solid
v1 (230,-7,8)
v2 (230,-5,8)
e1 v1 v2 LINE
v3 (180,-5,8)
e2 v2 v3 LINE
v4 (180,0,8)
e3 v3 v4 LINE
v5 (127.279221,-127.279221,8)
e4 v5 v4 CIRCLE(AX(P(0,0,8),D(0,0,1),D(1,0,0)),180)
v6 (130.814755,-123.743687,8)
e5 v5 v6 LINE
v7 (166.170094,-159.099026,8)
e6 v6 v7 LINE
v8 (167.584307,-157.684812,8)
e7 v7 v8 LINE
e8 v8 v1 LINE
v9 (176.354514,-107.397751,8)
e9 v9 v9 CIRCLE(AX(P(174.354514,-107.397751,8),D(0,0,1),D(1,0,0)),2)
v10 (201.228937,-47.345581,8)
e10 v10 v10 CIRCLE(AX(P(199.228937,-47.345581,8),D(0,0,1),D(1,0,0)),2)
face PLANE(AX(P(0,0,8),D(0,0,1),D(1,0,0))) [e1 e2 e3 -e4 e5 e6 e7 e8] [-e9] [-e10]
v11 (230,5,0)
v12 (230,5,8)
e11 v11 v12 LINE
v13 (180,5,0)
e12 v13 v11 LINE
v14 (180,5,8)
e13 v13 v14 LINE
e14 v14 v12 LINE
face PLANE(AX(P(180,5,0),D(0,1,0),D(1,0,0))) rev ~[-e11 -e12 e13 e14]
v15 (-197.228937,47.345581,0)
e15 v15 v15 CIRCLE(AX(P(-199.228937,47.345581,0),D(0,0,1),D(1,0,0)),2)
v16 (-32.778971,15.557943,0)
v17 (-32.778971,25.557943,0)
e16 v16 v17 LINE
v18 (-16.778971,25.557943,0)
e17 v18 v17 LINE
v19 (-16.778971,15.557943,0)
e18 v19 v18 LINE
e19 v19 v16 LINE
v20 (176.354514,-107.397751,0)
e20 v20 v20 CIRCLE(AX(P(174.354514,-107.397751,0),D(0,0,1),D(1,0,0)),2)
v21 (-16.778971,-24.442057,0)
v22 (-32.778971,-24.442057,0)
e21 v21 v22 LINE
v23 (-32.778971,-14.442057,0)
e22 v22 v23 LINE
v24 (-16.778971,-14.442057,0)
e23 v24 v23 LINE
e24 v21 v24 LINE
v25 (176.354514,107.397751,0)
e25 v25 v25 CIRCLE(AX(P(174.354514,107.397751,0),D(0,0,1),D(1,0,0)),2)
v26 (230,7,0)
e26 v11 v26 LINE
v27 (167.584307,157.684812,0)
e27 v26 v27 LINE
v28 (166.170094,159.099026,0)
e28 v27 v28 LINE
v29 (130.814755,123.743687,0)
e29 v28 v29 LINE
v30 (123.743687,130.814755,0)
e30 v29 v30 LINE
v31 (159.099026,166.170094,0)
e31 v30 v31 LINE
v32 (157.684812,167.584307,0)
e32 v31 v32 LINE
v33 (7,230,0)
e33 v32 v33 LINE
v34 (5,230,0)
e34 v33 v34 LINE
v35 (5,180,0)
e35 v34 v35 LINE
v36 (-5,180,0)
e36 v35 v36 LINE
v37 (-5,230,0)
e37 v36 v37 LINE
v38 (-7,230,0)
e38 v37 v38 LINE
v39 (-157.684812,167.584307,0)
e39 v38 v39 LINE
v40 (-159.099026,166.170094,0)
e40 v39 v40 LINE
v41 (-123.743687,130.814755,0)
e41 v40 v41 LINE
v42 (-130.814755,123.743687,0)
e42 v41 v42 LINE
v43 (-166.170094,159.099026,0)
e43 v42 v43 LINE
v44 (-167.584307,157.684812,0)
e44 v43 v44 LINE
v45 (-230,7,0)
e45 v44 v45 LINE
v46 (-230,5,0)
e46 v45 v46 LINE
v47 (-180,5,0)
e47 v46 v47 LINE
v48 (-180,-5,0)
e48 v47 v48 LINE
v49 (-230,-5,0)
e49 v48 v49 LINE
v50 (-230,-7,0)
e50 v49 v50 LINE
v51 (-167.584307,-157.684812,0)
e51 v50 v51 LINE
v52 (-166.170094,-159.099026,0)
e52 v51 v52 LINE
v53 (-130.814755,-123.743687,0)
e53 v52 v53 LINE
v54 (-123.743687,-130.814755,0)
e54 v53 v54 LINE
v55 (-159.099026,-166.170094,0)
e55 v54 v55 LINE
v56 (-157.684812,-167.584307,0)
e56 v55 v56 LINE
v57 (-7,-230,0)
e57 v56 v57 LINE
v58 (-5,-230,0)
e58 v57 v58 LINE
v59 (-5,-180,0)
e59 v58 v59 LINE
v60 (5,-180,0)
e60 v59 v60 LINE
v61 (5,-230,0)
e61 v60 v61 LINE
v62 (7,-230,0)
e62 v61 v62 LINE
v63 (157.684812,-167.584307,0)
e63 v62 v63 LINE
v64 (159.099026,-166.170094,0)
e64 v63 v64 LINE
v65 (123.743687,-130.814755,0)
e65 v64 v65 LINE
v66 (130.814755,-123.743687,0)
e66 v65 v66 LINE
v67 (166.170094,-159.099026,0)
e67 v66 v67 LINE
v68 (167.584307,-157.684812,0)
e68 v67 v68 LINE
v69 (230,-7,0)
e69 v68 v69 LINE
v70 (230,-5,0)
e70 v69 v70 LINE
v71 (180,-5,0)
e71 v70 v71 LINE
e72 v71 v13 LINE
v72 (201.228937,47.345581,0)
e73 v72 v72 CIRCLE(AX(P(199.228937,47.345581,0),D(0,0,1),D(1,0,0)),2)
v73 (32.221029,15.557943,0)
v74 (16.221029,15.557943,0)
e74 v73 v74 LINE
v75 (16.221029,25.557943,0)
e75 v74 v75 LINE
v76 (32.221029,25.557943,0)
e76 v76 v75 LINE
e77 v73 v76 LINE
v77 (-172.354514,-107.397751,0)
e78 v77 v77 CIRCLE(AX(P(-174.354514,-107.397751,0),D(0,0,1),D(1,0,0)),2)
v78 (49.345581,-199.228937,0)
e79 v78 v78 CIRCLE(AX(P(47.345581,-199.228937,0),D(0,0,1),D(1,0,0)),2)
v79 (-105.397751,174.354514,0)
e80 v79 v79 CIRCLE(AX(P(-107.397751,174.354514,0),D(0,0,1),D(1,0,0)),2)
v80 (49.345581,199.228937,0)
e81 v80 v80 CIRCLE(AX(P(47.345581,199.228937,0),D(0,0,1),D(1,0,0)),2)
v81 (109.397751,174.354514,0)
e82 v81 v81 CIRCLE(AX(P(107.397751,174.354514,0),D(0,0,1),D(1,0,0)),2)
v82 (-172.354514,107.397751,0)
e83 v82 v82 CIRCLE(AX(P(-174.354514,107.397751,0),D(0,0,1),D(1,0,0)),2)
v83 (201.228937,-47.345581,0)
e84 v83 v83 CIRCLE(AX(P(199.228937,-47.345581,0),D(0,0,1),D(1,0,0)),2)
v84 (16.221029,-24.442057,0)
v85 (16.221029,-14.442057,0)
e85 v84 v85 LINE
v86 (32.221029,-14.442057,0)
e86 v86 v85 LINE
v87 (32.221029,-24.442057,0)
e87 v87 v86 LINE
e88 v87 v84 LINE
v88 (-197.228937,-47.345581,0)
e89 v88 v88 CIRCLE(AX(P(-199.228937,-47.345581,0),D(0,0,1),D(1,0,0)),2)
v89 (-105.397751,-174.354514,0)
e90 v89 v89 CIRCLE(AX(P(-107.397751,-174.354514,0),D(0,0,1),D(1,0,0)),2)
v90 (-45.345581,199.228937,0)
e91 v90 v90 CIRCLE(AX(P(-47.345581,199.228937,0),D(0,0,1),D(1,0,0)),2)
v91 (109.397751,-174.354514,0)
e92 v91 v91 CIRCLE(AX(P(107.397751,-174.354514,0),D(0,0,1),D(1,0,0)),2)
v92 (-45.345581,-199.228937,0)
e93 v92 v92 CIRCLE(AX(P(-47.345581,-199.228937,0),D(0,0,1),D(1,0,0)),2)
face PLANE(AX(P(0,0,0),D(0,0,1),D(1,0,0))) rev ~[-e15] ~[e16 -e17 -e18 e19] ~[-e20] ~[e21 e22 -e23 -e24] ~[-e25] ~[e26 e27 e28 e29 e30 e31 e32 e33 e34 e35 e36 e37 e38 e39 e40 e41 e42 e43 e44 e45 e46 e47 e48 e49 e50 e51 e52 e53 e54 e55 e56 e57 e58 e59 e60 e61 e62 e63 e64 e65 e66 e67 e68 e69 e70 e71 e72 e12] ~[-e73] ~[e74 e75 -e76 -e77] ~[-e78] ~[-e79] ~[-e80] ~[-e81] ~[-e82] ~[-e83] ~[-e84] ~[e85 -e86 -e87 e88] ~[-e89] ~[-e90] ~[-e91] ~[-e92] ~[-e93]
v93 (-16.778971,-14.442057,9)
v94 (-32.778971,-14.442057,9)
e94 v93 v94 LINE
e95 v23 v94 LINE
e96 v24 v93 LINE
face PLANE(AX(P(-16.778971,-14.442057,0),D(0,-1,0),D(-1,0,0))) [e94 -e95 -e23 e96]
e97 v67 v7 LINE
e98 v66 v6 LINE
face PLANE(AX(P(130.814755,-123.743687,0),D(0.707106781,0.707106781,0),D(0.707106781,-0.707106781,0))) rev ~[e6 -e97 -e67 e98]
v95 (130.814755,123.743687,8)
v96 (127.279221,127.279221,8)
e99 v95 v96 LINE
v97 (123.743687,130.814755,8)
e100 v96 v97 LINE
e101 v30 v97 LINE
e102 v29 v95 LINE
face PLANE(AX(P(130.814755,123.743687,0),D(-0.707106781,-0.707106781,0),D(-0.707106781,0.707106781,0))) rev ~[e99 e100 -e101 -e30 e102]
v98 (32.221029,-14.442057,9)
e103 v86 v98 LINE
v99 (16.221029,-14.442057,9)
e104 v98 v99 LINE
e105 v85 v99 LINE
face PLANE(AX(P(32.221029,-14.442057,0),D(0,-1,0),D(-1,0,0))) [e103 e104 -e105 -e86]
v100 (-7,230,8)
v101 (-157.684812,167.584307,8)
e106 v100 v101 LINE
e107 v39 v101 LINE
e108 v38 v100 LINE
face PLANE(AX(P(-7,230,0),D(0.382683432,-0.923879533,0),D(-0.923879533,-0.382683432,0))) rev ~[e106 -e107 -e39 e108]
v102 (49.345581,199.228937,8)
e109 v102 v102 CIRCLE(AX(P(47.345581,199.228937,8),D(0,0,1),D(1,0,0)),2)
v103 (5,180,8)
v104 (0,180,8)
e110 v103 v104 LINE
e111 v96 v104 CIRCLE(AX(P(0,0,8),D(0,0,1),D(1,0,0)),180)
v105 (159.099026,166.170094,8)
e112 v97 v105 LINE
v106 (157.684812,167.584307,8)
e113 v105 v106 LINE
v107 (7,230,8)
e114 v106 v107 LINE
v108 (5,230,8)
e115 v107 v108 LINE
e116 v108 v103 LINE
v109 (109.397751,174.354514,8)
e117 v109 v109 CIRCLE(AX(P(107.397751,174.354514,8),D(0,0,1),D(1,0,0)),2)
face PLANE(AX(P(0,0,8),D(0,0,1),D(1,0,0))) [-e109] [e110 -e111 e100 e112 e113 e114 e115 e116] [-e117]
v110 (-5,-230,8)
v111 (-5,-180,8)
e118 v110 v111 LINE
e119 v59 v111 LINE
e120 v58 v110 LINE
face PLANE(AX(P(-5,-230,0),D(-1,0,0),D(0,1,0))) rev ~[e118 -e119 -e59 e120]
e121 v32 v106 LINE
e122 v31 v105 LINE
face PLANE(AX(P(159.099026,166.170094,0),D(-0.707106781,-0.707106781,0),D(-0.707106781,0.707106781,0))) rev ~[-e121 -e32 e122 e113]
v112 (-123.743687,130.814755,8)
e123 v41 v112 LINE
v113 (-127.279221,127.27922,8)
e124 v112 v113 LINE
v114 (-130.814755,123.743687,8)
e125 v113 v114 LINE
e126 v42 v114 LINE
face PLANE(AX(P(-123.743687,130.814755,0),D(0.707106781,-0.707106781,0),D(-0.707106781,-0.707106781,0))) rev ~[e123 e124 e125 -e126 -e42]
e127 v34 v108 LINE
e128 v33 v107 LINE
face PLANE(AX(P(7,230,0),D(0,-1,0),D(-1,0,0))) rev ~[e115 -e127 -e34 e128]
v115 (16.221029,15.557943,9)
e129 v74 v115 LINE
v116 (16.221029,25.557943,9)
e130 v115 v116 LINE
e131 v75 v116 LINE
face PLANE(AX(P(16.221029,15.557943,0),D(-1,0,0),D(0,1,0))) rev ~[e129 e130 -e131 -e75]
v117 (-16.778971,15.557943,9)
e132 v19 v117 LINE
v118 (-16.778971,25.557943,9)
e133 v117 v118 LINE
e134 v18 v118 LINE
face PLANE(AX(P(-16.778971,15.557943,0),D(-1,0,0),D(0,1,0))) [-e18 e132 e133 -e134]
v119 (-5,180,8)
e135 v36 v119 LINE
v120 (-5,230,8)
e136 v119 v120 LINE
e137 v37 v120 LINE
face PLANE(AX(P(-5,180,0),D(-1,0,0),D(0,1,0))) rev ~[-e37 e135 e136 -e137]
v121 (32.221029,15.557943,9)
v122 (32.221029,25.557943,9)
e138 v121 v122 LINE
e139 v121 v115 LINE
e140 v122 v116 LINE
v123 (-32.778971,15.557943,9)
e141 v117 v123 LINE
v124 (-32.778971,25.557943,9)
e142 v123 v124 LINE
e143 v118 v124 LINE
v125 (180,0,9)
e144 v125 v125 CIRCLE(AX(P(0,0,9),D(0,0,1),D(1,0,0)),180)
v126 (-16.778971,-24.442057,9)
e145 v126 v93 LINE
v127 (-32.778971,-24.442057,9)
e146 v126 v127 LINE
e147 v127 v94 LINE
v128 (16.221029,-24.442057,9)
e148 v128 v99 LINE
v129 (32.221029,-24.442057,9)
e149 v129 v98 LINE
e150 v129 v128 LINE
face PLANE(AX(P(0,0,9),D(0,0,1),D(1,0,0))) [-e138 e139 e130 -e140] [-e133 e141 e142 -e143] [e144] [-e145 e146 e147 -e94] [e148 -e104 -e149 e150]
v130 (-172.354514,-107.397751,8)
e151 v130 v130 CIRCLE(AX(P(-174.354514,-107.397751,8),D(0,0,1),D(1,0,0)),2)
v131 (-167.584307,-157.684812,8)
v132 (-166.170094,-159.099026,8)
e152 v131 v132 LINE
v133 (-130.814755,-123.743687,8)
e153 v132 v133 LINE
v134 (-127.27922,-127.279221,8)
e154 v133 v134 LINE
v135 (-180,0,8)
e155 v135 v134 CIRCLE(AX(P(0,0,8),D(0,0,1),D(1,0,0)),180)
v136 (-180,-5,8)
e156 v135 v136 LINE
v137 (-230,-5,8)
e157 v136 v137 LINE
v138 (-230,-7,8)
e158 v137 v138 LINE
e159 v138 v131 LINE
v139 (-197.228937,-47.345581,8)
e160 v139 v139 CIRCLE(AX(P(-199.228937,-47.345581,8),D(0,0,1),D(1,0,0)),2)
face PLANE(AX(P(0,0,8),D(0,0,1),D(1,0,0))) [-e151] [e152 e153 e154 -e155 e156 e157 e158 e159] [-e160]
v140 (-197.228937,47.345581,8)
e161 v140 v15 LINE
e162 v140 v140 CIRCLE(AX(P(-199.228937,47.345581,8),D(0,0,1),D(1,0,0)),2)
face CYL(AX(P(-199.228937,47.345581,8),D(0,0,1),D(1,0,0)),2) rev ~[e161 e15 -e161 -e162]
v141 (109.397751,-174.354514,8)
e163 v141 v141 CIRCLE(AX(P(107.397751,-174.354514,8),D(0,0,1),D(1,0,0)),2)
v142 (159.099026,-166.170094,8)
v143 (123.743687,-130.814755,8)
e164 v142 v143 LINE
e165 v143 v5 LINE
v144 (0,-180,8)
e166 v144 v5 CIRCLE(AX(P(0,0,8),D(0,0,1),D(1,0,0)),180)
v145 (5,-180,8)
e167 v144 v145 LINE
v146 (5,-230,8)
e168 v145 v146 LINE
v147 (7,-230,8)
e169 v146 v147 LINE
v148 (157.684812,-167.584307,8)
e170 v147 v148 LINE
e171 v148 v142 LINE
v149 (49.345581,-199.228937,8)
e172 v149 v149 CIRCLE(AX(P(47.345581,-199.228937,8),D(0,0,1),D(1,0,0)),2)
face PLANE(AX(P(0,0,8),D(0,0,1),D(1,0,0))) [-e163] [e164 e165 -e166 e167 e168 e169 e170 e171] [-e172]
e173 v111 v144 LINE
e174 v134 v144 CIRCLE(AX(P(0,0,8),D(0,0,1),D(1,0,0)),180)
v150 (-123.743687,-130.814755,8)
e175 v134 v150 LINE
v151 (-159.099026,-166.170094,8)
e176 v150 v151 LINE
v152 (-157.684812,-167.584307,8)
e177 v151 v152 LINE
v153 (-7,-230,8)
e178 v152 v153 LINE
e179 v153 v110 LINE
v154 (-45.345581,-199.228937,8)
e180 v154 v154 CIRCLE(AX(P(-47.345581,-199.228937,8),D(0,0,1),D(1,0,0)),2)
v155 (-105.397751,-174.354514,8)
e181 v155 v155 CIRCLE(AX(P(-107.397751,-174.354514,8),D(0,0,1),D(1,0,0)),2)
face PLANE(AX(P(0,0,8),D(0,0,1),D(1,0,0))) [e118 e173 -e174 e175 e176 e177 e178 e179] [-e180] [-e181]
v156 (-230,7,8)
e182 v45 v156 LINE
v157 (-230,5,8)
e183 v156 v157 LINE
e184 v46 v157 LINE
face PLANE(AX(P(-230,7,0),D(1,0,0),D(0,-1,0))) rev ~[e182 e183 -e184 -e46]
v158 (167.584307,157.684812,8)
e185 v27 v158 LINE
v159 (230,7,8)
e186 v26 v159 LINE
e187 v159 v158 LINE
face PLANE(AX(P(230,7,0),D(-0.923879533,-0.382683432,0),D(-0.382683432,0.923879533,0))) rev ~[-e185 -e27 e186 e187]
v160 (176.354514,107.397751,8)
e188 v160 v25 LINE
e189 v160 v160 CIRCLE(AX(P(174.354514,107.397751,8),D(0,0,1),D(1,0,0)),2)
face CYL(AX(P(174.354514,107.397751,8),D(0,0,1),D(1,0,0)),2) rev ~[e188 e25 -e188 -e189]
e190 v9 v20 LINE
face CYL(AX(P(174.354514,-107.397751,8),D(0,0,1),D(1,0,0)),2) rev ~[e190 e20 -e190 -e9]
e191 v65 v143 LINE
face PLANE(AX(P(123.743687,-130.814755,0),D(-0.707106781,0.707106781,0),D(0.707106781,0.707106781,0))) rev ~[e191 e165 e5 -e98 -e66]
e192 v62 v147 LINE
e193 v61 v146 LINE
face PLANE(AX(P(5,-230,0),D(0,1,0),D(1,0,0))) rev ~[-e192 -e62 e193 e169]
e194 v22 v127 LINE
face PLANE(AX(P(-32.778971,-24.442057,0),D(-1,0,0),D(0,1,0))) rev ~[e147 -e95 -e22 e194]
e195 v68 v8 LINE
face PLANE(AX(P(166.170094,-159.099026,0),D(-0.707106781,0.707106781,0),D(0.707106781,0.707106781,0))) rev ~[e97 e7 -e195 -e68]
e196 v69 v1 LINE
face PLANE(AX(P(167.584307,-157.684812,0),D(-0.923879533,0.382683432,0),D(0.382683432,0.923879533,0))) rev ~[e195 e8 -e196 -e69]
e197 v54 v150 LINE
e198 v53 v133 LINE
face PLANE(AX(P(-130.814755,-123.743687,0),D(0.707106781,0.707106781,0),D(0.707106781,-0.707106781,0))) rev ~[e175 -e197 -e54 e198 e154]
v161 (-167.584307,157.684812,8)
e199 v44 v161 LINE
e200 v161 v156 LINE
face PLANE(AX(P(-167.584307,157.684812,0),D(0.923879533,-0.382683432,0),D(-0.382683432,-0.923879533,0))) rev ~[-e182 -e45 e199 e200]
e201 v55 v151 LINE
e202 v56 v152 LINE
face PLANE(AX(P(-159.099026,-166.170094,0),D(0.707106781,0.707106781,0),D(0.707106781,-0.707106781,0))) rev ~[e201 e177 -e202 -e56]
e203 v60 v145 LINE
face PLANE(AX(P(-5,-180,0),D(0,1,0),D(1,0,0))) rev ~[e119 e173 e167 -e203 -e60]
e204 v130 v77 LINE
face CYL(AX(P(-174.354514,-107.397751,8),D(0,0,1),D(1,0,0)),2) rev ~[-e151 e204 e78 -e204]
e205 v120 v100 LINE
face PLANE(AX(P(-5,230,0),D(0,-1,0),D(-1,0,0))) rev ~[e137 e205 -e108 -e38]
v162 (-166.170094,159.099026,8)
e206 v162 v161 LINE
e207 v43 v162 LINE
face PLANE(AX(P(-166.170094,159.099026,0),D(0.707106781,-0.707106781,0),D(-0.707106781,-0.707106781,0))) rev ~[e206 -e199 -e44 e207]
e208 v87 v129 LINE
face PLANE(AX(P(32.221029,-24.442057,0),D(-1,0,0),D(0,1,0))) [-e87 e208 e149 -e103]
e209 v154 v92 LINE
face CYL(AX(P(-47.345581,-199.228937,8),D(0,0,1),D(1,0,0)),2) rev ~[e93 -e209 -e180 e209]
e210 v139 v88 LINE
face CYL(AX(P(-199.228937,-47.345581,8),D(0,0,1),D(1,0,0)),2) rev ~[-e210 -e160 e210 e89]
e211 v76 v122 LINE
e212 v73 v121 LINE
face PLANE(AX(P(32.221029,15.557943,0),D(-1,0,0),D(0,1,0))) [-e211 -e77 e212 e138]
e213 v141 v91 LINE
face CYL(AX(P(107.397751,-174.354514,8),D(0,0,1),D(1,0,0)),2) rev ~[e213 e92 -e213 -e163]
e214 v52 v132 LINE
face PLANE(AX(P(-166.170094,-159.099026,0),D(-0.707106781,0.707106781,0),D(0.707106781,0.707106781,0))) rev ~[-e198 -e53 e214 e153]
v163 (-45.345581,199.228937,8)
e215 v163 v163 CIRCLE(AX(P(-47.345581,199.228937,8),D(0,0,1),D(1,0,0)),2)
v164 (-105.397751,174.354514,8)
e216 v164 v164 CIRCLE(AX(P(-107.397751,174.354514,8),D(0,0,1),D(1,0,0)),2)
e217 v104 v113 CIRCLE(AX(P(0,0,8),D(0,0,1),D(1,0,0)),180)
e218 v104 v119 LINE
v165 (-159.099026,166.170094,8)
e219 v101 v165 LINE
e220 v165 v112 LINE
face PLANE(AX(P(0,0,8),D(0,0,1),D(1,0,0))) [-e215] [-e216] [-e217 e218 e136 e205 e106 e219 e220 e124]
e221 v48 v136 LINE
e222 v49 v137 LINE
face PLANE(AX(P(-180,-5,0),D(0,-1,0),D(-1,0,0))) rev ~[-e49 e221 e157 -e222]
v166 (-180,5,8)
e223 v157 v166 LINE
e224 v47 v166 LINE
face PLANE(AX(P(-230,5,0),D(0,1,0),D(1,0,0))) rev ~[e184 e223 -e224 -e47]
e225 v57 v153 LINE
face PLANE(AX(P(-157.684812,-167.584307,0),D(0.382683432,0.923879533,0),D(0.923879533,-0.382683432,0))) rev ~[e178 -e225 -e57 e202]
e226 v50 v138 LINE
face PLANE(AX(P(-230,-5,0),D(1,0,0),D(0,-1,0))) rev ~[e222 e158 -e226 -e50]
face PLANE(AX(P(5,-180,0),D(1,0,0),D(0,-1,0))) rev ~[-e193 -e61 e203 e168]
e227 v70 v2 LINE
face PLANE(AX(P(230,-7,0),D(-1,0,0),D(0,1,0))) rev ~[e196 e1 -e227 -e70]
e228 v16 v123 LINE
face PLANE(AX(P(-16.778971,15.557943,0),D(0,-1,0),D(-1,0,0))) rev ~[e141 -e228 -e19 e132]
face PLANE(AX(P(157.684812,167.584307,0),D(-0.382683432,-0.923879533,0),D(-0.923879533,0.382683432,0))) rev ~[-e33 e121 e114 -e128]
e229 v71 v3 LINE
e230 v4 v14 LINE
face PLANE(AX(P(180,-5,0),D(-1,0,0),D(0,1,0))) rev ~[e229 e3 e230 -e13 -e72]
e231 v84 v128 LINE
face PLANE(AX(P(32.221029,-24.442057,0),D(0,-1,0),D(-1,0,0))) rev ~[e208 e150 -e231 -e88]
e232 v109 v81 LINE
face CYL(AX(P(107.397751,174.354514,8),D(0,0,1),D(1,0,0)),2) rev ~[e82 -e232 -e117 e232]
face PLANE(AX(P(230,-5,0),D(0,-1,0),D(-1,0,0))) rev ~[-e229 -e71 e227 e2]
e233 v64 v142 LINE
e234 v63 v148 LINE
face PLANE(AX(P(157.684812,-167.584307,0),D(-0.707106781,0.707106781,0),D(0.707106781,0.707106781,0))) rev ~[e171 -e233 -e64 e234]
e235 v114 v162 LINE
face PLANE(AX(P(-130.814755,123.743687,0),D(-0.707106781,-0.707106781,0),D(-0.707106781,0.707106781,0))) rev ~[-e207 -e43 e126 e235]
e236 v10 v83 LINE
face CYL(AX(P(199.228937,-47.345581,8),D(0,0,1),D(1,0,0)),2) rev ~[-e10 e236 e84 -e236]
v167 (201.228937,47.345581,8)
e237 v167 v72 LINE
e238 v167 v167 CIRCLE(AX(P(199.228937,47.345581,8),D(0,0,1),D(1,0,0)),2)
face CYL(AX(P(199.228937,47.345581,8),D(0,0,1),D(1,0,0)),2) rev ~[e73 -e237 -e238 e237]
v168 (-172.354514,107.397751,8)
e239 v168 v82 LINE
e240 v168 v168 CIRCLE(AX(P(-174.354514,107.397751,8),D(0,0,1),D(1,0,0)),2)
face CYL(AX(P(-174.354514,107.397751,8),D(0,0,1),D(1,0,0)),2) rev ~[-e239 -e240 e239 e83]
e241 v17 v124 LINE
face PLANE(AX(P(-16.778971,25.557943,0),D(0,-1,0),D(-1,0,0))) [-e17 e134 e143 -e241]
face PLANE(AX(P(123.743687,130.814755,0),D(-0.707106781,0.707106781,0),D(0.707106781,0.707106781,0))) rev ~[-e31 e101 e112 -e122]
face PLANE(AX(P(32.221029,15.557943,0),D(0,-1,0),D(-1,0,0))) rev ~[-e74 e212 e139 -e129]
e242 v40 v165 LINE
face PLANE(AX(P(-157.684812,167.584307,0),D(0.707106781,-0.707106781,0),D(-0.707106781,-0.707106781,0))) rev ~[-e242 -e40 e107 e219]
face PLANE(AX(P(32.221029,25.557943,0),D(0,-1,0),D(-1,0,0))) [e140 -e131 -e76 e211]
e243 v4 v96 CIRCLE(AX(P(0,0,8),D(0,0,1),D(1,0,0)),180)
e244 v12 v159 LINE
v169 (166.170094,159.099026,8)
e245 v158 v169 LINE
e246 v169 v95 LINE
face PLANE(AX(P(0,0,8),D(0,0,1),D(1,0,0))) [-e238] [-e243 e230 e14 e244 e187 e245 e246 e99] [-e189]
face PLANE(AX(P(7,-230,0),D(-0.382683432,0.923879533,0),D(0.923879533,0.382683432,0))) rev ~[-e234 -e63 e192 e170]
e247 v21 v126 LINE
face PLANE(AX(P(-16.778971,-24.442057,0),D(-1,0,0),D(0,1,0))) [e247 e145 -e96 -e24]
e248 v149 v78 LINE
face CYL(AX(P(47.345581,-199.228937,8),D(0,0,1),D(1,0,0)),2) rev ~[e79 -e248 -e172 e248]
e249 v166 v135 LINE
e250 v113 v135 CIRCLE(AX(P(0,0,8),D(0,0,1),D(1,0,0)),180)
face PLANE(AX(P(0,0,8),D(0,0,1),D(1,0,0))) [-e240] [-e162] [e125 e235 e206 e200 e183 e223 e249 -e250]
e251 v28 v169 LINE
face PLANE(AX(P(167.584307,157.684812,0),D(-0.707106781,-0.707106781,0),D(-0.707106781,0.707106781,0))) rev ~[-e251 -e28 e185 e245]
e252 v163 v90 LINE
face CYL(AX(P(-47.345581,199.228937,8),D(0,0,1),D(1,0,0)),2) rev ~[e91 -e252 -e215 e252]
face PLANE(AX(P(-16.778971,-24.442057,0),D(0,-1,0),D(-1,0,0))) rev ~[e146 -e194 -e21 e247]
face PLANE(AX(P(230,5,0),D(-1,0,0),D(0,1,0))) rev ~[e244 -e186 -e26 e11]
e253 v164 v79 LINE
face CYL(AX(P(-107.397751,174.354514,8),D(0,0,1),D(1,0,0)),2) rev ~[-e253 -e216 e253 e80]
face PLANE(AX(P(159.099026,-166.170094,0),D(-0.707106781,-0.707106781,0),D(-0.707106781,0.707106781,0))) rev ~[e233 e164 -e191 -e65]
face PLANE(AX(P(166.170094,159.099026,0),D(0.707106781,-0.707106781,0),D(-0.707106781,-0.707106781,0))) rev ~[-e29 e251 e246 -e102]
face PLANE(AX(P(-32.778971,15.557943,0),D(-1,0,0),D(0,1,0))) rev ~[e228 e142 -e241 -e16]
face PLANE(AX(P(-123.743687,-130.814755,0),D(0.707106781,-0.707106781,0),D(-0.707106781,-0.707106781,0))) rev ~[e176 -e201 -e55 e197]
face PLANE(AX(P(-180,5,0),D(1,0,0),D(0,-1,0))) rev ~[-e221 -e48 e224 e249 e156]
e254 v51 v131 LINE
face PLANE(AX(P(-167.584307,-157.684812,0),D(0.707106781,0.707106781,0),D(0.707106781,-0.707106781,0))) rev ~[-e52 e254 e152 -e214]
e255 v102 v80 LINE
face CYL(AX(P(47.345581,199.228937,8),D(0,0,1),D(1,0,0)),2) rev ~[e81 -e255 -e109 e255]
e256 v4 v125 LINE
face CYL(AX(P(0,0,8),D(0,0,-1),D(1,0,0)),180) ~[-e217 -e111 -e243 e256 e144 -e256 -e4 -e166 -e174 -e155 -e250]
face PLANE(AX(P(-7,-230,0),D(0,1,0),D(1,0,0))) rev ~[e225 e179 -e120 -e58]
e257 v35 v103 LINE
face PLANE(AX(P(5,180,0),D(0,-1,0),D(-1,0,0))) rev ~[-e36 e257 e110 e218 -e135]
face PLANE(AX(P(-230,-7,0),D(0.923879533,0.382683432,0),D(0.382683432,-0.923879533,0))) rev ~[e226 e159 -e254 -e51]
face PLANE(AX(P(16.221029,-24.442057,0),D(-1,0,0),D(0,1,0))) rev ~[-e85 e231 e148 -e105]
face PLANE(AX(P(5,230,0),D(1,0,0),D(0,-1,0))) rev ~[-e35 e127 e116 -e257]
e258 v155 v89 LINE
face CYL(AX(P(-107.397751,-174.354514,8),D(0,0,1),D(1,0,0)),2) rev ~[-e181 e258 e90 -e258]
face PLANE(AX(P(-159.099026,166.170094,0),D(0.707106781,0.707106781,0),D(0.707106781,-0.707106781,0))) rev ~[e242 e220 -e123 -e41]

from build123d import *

# Parameters (mm, degrees)
BOSS_EXTRUDE1_DEPTH = 8
SKETCH2_R           = 180
BOSS_EXTRUDE2_DEPTH = 1
CUT_EXTRUDE1_REACH  = 10
SKETCH3_R           = 2
CUT_EXTRUDE2_REACH  = 11
SKETCH5_W           = 16
SKETCH5_H           = 10


with BuildPart() as part:
    # Sketch1 → Boss-Extrude1 (new body)
    with BuildSketch(Plane.XY):
        Polygon((5, 230), (5, 180), (-5, 180), (-5, 230), (-7, 230), (-157.684812205, 167.584307141), (-159.099025767, 166.170093579), (-123.743686708, 130.814754519), (-130.81475452, 123.743686708), (-166.170093579, 159.099025767), (-167.584307141, 157.684812205), (-230, 7), (-230, 5), (-180, 5), (-180, -5), (-230, -5), (-230, -7), (-167.584307141, -157.684812205), (-166.170093579, -159.099025767), (-130.81475452, -123.743686708), (-123.743686708, -130.81475452), (-159.099025767, -166.170093579), (-157.684812205, -167.584307141), (-7, -230), (-5, -230), (-5, -180), (5, -180), (5, -230), (7, -230), (157.684812205, -167.584307141), (159.099025767, -166.170093579), (123.743686708, -130.814754519), (130.81475452, -123.743686708), (166.170093579, -159.099025767), (167.584307141, -157.684812205), (230, -7), (230, -5), (180, -5), (180, 5), (230, 5), (230, 7), (167.584307141, 157.684812205), (166.170093579, 159.099025767), (130.81475452, 123.743686708), (123.743686708, 130.81475452), (159.099025767, 166.170093579), (157.684812205, 167.584307141), (7, 230), align=None)
    extrude(amount=BOSS_EXTRUDE1_DEPTH)

    # Sketch2 → Boss-Extrude2 (add)
    with BuildSketch(Plane.XY.offset(8)):
        Circle(SKETCH2_R)
    extrude(amount=BOSS_EXTRUDE2_DEPTH)

    # Sketch3 → Cut-Extrude1 (cut, up to next)
    with BuildSketch(Plane.XY.offset(8), mode=Mode.PRIVATE) as cut_extrude1_sk1:
        with Locations((107.397750993, 174.354514299)):
            Circle(SKETCH3_R)
    cut_extrude1_tool1 = extrude(cut_extrude1_sk1.sketch, amount=-CUT_EXTRUDE1_REACH, mode=Mode.PRIVATE) & part.part
    add(cut_extrude1_tool1.solids().sort_by_distance((107.397751, 174.354514, 8))[0], mode=Mode.SUBTRACT)
    # Sketch3 → Cut-Extrude1 (cut, up to next)
    with BuildSketch(Plane.XY.offset(8), mode=Mode.PRIVATE) as cut_extrude1_sk2:
        with Locations((47.34558138, 199.228937402)):
            Circle(SKETCH3_R)
    cut_extrude1_tool2 = extrude(cut_extrude1_sk2.sketch, amount=-CUT_EXTRUDE1_REACH, mode=Mode.PRIVATE) & part.part
    add(cut_extrude1_tool2.solids().sort_by_distance((47.345581, 199.228937, 8))[0], mode=Mode.SUBTRACT)
    # Sketch3 → Cut-Extrude1 (cut, up to next)
    with BuildSketch(Plane.XY.offset(8), mode=Mode.PRIVATE) as cut_extrude1_sk3:
        with Locations((199.228937402, 47.34558138)):
            Circle(SKETCH3_R)
    cut_extrude1_tool3 = extrude(cut_extrude1_sk3.sketch, amount=-CUT_EXTRUDE1_REACH, mode=Mode.PRIVATE) & part.part
    add(cut_extrude1_tool3.solids().sort_by_distance((199.228937, 47.345581, 8))[0], mode=Mode.SUBTRACT)
    # Sketch3 → Cut-Extrude1 (cut, up to next)
    with BuildSketch(Plane.XY.offset(8), mode=Mode.PRIVATE) as cut_extrude1_sk4:
        with Locations((174.354514299, 107.397750993)):
            Circle(SKETCH3_R)
    cut_extrude1_tool4 = extrude(cut_extrude1_sk4.sketch, amount=-CUT_EXTRUDE1_REACH, mode=Mode.PRIVATE) & part.part
    add(cut_extrude1_tool4.solids().sort_by_distance((174.354514, 107.397751, 8))[0], mode=Mode.SUBTRACT)
    # Sketch3 → Cut-Extrude1 (cut, up to next)
    with BuildSketch(Plane.XY.offset(8), mode=Mode.PRIVATE) as cut_extrude1_sk5:
        with Locations((174.354514299, -107.397750993)):
            Circle(SKETCH3_R)
    cut_extrude1_tool5 = extrude(cut_extrude1_sk5.sketch, amount=-CUT_EXTRUDE1_REACH, mode=Mode.PRIVATE) & part.part
    add(cut_extrude1_tool5.solids().sort_by_distance((174.354514, -107.397751, 8))[0], mode=Mode.SUBTRACT)
    # Sketch3 → Cut-Extrude1 (cut, up to next)
    with BuildSketch(Plane.XY.offset(8), mode=Mode.PRIVATE) as cut_extrude1_sk6:
        with Locations((199.228937402, -47.34558138)):
            Circle(SKETCH3_R)
    cut_extrude1_tool6 = extrude(cut_extrude1_sk6.sketch, amount=-CUT_EXTRUDE1_REACH, mode=Mode.PRIVATE) & part.part
    add(cut_extrude1_tool6.solids().sort_by_distance((199.228937, -47.345581, 8))[0], mode=Mode.SUBTRACT)
    # Sketch3 → Cut-Extrude1 (cut, up to next)
    with BuildSketch(Plane.XY.offset(8), mode=Mode.PRIVATE) as cut_extrude1_sk7:
        with Locations((47.34558138, -199.228937402)):
            Circle(SKETCH3_R)
    cut_extrude1_tool7 = extrude(cut_extrude1_sk7.sketch, amount=-CUT_EXTRUDE1_REACH, mode=Mode.PRIVATE) & part.part
    add(cut_extrude1_tool7.solids().sort_by_distance((47.345581, -199.228937, 8))[0], mode=Mode.SUBTRACT)
    # Sketch3 → Cut-Extrude1 (cut, up to next)
    with BuildSketch(Plane.XY.offset(8), mode=Mode.PRIVATE) as cut_extrude1_sk8:
        with Locations((107.397750993, -174.354514299)):
            Circle(SKETCH3_R)
    cut_extrude1_tool8 = extrude(cut_extrude1_sk8.sketch, amount=-CUT_EXTRUDE1_REACH, mode=Mode.PRIVATE) & part.part
    add(cut_extrude1_tool8.solids().sort_by_distance((107.397751, -174.354514, 8))[0], mode=Mode.SUBTRACT)
    # Sketch3 → Cut-Extrude1 (cut, up to next)
    with BuildSketch(Plane.XY.offset(8), mode=Mode.PRIVATE) as cut_extrude1_sk9:
        with Locations((-107.397750993, -174.354514299)):
            Circle(SKETCH3_R)
    cut_extrude1_tool9 = extrude(cut_extrude1_sk9.sketch, amount=-CUT_EXTRUDE1_REACH, mode=Mode.PRIVATE) & part.part
    add(cut_extrude1_tool9.solids().sort_by_distance((-107.397751, -174.354514, 8))[0], mode=Mode.SUBTRACT)
    # Sketch3 → Cut-Extrude1 (cut, up to next)
    with BuildSketch(Plane.XY.offset(8), mode=Mode.PRIVATE) as cut_extrude1_sk10:
        with Locations((-47.34558138, -199.228937402)):
            Circle(SKETCH3_R)
    cut_extrude1_tool10 = extrude(cut_extrude1_sk10.sketch, amount=-CUT_EXTRUDE1_REACH, mode=Mode.PRIVATE) & part.part
    add(cut_extrude1_tool10.solids().sort_by_distance((-47.345581, -199.228937, 8))[0], mode=Mode.SUBTRACT)
    # Sketch3 → Cut-Extrude1 (cut, up to next)
    with BuildSketch(Plane.XY.offset(8), mode=Mode.PRIVATE) as cut_extrude1_sk11:
        with Locations((-199.228937402, -47.34558138)):
            Circle(SKETCH3_R)
    cut_extrude1_tool11 = extrude(cut_extrude1_sk11.sketch, amount=-CUT_EXTRUDE1_REACH, mode=Mode.PRIVATE) & part.part
    add(cut_extrude1_tool11.solids().sort_by_distance((-199.228937, -47.345581, 8))[0], mode=Mode.SUBTRACT)
    # Sketch3 → Cut-Extrude1 (cut, up to next)
    with BuildSketch(Plane.XY.offset(8), mode=Mode.PRIVATE) as cut_extrude1_sk12:
        with Locations((-174.354514299, -107.397750993)):
            Circle(SKETCH3_R)
    cut_extrude1_tool12 = extrude(cut_extrude1_sk12.sketch, amount=-CUT_EXTRUDE1_REACH, mode=Mode.PRIVATE) & part.part
    add(cut_extrude1_tool12.solids().sort_by_distance((-174.354514, -107.397751, 8))[0], mode=Mode.SUBTRACT)
    # Sketch3 → Cut-Extrude1 (cut, up to next)
    with BuildSketch(Plane.XY.offset(8), mode=Mode.PRIVATE) as cut_extrude1_sk13:
        with Locations((-174.354514299, 107.397750993)):
            Circle(SKETCH3_R)
    cut_extrude1_tool13 = extrude(cut_extrude1_sk13.sketch, amount=-CUT_EXTRUDE1_REACH, mode=Mode.PRIVATE) & part.part
    add(cut_extrude1_tool13.solids().sort_by_distance((-174.354514, 107.397751, 8))[0], mode=Mode.SUBTRACT)
    # Sketch3 → Cut-Extrude1 (cut, up to next)
    with BuildSketch(Plane.XY.offset(8), mode=Mode.PRIVATE) as cut_extrude1_sk14:
        with Locations((-199.228937402, 47.34558138)):
            Circle(SKETCH3_R)
    cut_extrude1_tool14 = extrude(cut_extrude1_sk14.sketch, amount=-CUT_EXTRUDE1_REACH, mode=Mode.PRIVATE) & part.part
    add(cut_extrude1_tool14.solids().sort_by_distance((-199.228937, 47.345581, 8))[0], mode=Mode.SUBTRACT)
    # Sketch3 → Cut-Extrude1 (cut, up to next)
    with BuildSketch(Plane.XY.offset(8), mode=Mode.PRIVATE) as cut_extrude1_sk15:
        with Locations((-47.34558138, 199.228937402)):
            Circle(SKETCH3_R)
    cut_extrude1_tool15 = extrude(cut_extrude1_sk15.sketch, amount=-CUT_EXTRUDE1_REACH, mode=Mode.PRIVATE) & part.part
    add(cut_extrude1_tool15.solids().sort_by_distance((-47.345581, 199.228937, 8))[0], mode=Mode.SUBTRACT)
    # Sketch3 → Cut-Extrude1 (cut, up to next)
    with BuildSketch(Plane.XY.offset(8), mode=Mode.PRIVATE) as cut_extrude1_sk16:
        with Locations((-107.397750993, 174.354514299)):
            Circle(SKETCH3_R)
    cut_extrude1_tool16 = extrude(cut_extrude1_sk16.sketch, amount=-CUT_EXTRUDE1_REACH, mode=Mode.PRIVATE) & part.part
    add(cut_extrude1_tool16.solids().sort_by_distance((-107.397751, 174.354514, 8))[0], mode=Mode.SUBTRACT)

    # Sketch5 → Cut-Extrude2 (cut, up to next)
    with BuildSketch(Plane(origin=(0, 0, 0), x_dir=(-1, 0, 0), z_dir=(0, 0, -1)), mode=Mode.PRIVATE) as cut_extrude2_sk1:
        with Locations((-24.221028692, -19.442057383)):
            Rectangle(SKETCH5_W, SKETCH5_H)
    cut_extrude2_tool1 = extrude(cut_extrude2_sk1.sketch, amount=-CUT_EXTRUDE2_REACH, mode=Mode.PRIVATE) & part.part
    add(cut_extrude2_tool1.solids().sort_by_distance((24.221029, -19.442057, 0))[0], mode=Mode.SUBTRACT)
    # Sketch5 → Cut-Extrude2 (cut, up to next)
    with BuildSketch(Plane(origin=(0, 0, 0), x_dir=(-1, 0, 0), z_dir=(0, 0, -1)), mode=Mode.PRIVATE) as cut_extrude2_sk2:
        with Locations((-24.221028692, 20.557942617)):
            Rectangle(SKETCH5_W, SKETCH5_H)
    cut_extrude2_tool2 = extrude(cut_extrude2_sk2.sketch, amount=-CUT_EXTRUDE2_REACH, mode=Mode.PRIVATE) & part.part
    add(cut_extrude2_tool2.solids().sort_by_distance((24.221029, 20.557943, 0))[0], mode=Mode.SUBTRACT)
    # Sketch5 → Cut-Extrude2 (cut, up to next)
    with BuildSketch(Plane(origin=(0, 0, 0), x_dir=(-1, 0, 0), z_dir=(0, 0, -1)), mode=Mode.PRIVATE) as cut_extrude2_sk3:
        with Locations((24.778971308, 20.557942617)):
            Rectangle(SKETCH5_W, SKETCH5_H)
    cut_extrude2_tool3 = extrude(cut_extrude2_sk3.sketch, amount=-CUT_EXTRUDE2_REACH, mode=Mode.PRIVATE) & part.part
    add(cut_extrude2_tool3.solids().sort_by_distance((-24.778971, 20.557943, 0))[0], mode=Mode.SUBTRACT)
    # Sketch5 → Cut-Extrude2 (cut, up to next)
    with BuildSketch(Plane(origin=(0, 0, 0), x_dir=(-1, 0, 0), z_dir=(0, 0, -1)), mode=Mode.PRIVATE) as cut_extrude2_sk4:
        with Locations((24.778971308, -19.442057383)):
            Rectangle(SKETCH5_W, SKETCH5_H)
    cut_extrude2_tool4 = extrude(cut_extrude2_sk4.sketch, amount=-CUT_EXTRUDE2_REACH, mode=Mode.PRIVATE) & part.part
    add(cut_extrude2_tool4.solids().sort_by_distance((-24.778971, -19.442057, 0))[0], mode=Mode.SUBTRACT)


solid = part.part
